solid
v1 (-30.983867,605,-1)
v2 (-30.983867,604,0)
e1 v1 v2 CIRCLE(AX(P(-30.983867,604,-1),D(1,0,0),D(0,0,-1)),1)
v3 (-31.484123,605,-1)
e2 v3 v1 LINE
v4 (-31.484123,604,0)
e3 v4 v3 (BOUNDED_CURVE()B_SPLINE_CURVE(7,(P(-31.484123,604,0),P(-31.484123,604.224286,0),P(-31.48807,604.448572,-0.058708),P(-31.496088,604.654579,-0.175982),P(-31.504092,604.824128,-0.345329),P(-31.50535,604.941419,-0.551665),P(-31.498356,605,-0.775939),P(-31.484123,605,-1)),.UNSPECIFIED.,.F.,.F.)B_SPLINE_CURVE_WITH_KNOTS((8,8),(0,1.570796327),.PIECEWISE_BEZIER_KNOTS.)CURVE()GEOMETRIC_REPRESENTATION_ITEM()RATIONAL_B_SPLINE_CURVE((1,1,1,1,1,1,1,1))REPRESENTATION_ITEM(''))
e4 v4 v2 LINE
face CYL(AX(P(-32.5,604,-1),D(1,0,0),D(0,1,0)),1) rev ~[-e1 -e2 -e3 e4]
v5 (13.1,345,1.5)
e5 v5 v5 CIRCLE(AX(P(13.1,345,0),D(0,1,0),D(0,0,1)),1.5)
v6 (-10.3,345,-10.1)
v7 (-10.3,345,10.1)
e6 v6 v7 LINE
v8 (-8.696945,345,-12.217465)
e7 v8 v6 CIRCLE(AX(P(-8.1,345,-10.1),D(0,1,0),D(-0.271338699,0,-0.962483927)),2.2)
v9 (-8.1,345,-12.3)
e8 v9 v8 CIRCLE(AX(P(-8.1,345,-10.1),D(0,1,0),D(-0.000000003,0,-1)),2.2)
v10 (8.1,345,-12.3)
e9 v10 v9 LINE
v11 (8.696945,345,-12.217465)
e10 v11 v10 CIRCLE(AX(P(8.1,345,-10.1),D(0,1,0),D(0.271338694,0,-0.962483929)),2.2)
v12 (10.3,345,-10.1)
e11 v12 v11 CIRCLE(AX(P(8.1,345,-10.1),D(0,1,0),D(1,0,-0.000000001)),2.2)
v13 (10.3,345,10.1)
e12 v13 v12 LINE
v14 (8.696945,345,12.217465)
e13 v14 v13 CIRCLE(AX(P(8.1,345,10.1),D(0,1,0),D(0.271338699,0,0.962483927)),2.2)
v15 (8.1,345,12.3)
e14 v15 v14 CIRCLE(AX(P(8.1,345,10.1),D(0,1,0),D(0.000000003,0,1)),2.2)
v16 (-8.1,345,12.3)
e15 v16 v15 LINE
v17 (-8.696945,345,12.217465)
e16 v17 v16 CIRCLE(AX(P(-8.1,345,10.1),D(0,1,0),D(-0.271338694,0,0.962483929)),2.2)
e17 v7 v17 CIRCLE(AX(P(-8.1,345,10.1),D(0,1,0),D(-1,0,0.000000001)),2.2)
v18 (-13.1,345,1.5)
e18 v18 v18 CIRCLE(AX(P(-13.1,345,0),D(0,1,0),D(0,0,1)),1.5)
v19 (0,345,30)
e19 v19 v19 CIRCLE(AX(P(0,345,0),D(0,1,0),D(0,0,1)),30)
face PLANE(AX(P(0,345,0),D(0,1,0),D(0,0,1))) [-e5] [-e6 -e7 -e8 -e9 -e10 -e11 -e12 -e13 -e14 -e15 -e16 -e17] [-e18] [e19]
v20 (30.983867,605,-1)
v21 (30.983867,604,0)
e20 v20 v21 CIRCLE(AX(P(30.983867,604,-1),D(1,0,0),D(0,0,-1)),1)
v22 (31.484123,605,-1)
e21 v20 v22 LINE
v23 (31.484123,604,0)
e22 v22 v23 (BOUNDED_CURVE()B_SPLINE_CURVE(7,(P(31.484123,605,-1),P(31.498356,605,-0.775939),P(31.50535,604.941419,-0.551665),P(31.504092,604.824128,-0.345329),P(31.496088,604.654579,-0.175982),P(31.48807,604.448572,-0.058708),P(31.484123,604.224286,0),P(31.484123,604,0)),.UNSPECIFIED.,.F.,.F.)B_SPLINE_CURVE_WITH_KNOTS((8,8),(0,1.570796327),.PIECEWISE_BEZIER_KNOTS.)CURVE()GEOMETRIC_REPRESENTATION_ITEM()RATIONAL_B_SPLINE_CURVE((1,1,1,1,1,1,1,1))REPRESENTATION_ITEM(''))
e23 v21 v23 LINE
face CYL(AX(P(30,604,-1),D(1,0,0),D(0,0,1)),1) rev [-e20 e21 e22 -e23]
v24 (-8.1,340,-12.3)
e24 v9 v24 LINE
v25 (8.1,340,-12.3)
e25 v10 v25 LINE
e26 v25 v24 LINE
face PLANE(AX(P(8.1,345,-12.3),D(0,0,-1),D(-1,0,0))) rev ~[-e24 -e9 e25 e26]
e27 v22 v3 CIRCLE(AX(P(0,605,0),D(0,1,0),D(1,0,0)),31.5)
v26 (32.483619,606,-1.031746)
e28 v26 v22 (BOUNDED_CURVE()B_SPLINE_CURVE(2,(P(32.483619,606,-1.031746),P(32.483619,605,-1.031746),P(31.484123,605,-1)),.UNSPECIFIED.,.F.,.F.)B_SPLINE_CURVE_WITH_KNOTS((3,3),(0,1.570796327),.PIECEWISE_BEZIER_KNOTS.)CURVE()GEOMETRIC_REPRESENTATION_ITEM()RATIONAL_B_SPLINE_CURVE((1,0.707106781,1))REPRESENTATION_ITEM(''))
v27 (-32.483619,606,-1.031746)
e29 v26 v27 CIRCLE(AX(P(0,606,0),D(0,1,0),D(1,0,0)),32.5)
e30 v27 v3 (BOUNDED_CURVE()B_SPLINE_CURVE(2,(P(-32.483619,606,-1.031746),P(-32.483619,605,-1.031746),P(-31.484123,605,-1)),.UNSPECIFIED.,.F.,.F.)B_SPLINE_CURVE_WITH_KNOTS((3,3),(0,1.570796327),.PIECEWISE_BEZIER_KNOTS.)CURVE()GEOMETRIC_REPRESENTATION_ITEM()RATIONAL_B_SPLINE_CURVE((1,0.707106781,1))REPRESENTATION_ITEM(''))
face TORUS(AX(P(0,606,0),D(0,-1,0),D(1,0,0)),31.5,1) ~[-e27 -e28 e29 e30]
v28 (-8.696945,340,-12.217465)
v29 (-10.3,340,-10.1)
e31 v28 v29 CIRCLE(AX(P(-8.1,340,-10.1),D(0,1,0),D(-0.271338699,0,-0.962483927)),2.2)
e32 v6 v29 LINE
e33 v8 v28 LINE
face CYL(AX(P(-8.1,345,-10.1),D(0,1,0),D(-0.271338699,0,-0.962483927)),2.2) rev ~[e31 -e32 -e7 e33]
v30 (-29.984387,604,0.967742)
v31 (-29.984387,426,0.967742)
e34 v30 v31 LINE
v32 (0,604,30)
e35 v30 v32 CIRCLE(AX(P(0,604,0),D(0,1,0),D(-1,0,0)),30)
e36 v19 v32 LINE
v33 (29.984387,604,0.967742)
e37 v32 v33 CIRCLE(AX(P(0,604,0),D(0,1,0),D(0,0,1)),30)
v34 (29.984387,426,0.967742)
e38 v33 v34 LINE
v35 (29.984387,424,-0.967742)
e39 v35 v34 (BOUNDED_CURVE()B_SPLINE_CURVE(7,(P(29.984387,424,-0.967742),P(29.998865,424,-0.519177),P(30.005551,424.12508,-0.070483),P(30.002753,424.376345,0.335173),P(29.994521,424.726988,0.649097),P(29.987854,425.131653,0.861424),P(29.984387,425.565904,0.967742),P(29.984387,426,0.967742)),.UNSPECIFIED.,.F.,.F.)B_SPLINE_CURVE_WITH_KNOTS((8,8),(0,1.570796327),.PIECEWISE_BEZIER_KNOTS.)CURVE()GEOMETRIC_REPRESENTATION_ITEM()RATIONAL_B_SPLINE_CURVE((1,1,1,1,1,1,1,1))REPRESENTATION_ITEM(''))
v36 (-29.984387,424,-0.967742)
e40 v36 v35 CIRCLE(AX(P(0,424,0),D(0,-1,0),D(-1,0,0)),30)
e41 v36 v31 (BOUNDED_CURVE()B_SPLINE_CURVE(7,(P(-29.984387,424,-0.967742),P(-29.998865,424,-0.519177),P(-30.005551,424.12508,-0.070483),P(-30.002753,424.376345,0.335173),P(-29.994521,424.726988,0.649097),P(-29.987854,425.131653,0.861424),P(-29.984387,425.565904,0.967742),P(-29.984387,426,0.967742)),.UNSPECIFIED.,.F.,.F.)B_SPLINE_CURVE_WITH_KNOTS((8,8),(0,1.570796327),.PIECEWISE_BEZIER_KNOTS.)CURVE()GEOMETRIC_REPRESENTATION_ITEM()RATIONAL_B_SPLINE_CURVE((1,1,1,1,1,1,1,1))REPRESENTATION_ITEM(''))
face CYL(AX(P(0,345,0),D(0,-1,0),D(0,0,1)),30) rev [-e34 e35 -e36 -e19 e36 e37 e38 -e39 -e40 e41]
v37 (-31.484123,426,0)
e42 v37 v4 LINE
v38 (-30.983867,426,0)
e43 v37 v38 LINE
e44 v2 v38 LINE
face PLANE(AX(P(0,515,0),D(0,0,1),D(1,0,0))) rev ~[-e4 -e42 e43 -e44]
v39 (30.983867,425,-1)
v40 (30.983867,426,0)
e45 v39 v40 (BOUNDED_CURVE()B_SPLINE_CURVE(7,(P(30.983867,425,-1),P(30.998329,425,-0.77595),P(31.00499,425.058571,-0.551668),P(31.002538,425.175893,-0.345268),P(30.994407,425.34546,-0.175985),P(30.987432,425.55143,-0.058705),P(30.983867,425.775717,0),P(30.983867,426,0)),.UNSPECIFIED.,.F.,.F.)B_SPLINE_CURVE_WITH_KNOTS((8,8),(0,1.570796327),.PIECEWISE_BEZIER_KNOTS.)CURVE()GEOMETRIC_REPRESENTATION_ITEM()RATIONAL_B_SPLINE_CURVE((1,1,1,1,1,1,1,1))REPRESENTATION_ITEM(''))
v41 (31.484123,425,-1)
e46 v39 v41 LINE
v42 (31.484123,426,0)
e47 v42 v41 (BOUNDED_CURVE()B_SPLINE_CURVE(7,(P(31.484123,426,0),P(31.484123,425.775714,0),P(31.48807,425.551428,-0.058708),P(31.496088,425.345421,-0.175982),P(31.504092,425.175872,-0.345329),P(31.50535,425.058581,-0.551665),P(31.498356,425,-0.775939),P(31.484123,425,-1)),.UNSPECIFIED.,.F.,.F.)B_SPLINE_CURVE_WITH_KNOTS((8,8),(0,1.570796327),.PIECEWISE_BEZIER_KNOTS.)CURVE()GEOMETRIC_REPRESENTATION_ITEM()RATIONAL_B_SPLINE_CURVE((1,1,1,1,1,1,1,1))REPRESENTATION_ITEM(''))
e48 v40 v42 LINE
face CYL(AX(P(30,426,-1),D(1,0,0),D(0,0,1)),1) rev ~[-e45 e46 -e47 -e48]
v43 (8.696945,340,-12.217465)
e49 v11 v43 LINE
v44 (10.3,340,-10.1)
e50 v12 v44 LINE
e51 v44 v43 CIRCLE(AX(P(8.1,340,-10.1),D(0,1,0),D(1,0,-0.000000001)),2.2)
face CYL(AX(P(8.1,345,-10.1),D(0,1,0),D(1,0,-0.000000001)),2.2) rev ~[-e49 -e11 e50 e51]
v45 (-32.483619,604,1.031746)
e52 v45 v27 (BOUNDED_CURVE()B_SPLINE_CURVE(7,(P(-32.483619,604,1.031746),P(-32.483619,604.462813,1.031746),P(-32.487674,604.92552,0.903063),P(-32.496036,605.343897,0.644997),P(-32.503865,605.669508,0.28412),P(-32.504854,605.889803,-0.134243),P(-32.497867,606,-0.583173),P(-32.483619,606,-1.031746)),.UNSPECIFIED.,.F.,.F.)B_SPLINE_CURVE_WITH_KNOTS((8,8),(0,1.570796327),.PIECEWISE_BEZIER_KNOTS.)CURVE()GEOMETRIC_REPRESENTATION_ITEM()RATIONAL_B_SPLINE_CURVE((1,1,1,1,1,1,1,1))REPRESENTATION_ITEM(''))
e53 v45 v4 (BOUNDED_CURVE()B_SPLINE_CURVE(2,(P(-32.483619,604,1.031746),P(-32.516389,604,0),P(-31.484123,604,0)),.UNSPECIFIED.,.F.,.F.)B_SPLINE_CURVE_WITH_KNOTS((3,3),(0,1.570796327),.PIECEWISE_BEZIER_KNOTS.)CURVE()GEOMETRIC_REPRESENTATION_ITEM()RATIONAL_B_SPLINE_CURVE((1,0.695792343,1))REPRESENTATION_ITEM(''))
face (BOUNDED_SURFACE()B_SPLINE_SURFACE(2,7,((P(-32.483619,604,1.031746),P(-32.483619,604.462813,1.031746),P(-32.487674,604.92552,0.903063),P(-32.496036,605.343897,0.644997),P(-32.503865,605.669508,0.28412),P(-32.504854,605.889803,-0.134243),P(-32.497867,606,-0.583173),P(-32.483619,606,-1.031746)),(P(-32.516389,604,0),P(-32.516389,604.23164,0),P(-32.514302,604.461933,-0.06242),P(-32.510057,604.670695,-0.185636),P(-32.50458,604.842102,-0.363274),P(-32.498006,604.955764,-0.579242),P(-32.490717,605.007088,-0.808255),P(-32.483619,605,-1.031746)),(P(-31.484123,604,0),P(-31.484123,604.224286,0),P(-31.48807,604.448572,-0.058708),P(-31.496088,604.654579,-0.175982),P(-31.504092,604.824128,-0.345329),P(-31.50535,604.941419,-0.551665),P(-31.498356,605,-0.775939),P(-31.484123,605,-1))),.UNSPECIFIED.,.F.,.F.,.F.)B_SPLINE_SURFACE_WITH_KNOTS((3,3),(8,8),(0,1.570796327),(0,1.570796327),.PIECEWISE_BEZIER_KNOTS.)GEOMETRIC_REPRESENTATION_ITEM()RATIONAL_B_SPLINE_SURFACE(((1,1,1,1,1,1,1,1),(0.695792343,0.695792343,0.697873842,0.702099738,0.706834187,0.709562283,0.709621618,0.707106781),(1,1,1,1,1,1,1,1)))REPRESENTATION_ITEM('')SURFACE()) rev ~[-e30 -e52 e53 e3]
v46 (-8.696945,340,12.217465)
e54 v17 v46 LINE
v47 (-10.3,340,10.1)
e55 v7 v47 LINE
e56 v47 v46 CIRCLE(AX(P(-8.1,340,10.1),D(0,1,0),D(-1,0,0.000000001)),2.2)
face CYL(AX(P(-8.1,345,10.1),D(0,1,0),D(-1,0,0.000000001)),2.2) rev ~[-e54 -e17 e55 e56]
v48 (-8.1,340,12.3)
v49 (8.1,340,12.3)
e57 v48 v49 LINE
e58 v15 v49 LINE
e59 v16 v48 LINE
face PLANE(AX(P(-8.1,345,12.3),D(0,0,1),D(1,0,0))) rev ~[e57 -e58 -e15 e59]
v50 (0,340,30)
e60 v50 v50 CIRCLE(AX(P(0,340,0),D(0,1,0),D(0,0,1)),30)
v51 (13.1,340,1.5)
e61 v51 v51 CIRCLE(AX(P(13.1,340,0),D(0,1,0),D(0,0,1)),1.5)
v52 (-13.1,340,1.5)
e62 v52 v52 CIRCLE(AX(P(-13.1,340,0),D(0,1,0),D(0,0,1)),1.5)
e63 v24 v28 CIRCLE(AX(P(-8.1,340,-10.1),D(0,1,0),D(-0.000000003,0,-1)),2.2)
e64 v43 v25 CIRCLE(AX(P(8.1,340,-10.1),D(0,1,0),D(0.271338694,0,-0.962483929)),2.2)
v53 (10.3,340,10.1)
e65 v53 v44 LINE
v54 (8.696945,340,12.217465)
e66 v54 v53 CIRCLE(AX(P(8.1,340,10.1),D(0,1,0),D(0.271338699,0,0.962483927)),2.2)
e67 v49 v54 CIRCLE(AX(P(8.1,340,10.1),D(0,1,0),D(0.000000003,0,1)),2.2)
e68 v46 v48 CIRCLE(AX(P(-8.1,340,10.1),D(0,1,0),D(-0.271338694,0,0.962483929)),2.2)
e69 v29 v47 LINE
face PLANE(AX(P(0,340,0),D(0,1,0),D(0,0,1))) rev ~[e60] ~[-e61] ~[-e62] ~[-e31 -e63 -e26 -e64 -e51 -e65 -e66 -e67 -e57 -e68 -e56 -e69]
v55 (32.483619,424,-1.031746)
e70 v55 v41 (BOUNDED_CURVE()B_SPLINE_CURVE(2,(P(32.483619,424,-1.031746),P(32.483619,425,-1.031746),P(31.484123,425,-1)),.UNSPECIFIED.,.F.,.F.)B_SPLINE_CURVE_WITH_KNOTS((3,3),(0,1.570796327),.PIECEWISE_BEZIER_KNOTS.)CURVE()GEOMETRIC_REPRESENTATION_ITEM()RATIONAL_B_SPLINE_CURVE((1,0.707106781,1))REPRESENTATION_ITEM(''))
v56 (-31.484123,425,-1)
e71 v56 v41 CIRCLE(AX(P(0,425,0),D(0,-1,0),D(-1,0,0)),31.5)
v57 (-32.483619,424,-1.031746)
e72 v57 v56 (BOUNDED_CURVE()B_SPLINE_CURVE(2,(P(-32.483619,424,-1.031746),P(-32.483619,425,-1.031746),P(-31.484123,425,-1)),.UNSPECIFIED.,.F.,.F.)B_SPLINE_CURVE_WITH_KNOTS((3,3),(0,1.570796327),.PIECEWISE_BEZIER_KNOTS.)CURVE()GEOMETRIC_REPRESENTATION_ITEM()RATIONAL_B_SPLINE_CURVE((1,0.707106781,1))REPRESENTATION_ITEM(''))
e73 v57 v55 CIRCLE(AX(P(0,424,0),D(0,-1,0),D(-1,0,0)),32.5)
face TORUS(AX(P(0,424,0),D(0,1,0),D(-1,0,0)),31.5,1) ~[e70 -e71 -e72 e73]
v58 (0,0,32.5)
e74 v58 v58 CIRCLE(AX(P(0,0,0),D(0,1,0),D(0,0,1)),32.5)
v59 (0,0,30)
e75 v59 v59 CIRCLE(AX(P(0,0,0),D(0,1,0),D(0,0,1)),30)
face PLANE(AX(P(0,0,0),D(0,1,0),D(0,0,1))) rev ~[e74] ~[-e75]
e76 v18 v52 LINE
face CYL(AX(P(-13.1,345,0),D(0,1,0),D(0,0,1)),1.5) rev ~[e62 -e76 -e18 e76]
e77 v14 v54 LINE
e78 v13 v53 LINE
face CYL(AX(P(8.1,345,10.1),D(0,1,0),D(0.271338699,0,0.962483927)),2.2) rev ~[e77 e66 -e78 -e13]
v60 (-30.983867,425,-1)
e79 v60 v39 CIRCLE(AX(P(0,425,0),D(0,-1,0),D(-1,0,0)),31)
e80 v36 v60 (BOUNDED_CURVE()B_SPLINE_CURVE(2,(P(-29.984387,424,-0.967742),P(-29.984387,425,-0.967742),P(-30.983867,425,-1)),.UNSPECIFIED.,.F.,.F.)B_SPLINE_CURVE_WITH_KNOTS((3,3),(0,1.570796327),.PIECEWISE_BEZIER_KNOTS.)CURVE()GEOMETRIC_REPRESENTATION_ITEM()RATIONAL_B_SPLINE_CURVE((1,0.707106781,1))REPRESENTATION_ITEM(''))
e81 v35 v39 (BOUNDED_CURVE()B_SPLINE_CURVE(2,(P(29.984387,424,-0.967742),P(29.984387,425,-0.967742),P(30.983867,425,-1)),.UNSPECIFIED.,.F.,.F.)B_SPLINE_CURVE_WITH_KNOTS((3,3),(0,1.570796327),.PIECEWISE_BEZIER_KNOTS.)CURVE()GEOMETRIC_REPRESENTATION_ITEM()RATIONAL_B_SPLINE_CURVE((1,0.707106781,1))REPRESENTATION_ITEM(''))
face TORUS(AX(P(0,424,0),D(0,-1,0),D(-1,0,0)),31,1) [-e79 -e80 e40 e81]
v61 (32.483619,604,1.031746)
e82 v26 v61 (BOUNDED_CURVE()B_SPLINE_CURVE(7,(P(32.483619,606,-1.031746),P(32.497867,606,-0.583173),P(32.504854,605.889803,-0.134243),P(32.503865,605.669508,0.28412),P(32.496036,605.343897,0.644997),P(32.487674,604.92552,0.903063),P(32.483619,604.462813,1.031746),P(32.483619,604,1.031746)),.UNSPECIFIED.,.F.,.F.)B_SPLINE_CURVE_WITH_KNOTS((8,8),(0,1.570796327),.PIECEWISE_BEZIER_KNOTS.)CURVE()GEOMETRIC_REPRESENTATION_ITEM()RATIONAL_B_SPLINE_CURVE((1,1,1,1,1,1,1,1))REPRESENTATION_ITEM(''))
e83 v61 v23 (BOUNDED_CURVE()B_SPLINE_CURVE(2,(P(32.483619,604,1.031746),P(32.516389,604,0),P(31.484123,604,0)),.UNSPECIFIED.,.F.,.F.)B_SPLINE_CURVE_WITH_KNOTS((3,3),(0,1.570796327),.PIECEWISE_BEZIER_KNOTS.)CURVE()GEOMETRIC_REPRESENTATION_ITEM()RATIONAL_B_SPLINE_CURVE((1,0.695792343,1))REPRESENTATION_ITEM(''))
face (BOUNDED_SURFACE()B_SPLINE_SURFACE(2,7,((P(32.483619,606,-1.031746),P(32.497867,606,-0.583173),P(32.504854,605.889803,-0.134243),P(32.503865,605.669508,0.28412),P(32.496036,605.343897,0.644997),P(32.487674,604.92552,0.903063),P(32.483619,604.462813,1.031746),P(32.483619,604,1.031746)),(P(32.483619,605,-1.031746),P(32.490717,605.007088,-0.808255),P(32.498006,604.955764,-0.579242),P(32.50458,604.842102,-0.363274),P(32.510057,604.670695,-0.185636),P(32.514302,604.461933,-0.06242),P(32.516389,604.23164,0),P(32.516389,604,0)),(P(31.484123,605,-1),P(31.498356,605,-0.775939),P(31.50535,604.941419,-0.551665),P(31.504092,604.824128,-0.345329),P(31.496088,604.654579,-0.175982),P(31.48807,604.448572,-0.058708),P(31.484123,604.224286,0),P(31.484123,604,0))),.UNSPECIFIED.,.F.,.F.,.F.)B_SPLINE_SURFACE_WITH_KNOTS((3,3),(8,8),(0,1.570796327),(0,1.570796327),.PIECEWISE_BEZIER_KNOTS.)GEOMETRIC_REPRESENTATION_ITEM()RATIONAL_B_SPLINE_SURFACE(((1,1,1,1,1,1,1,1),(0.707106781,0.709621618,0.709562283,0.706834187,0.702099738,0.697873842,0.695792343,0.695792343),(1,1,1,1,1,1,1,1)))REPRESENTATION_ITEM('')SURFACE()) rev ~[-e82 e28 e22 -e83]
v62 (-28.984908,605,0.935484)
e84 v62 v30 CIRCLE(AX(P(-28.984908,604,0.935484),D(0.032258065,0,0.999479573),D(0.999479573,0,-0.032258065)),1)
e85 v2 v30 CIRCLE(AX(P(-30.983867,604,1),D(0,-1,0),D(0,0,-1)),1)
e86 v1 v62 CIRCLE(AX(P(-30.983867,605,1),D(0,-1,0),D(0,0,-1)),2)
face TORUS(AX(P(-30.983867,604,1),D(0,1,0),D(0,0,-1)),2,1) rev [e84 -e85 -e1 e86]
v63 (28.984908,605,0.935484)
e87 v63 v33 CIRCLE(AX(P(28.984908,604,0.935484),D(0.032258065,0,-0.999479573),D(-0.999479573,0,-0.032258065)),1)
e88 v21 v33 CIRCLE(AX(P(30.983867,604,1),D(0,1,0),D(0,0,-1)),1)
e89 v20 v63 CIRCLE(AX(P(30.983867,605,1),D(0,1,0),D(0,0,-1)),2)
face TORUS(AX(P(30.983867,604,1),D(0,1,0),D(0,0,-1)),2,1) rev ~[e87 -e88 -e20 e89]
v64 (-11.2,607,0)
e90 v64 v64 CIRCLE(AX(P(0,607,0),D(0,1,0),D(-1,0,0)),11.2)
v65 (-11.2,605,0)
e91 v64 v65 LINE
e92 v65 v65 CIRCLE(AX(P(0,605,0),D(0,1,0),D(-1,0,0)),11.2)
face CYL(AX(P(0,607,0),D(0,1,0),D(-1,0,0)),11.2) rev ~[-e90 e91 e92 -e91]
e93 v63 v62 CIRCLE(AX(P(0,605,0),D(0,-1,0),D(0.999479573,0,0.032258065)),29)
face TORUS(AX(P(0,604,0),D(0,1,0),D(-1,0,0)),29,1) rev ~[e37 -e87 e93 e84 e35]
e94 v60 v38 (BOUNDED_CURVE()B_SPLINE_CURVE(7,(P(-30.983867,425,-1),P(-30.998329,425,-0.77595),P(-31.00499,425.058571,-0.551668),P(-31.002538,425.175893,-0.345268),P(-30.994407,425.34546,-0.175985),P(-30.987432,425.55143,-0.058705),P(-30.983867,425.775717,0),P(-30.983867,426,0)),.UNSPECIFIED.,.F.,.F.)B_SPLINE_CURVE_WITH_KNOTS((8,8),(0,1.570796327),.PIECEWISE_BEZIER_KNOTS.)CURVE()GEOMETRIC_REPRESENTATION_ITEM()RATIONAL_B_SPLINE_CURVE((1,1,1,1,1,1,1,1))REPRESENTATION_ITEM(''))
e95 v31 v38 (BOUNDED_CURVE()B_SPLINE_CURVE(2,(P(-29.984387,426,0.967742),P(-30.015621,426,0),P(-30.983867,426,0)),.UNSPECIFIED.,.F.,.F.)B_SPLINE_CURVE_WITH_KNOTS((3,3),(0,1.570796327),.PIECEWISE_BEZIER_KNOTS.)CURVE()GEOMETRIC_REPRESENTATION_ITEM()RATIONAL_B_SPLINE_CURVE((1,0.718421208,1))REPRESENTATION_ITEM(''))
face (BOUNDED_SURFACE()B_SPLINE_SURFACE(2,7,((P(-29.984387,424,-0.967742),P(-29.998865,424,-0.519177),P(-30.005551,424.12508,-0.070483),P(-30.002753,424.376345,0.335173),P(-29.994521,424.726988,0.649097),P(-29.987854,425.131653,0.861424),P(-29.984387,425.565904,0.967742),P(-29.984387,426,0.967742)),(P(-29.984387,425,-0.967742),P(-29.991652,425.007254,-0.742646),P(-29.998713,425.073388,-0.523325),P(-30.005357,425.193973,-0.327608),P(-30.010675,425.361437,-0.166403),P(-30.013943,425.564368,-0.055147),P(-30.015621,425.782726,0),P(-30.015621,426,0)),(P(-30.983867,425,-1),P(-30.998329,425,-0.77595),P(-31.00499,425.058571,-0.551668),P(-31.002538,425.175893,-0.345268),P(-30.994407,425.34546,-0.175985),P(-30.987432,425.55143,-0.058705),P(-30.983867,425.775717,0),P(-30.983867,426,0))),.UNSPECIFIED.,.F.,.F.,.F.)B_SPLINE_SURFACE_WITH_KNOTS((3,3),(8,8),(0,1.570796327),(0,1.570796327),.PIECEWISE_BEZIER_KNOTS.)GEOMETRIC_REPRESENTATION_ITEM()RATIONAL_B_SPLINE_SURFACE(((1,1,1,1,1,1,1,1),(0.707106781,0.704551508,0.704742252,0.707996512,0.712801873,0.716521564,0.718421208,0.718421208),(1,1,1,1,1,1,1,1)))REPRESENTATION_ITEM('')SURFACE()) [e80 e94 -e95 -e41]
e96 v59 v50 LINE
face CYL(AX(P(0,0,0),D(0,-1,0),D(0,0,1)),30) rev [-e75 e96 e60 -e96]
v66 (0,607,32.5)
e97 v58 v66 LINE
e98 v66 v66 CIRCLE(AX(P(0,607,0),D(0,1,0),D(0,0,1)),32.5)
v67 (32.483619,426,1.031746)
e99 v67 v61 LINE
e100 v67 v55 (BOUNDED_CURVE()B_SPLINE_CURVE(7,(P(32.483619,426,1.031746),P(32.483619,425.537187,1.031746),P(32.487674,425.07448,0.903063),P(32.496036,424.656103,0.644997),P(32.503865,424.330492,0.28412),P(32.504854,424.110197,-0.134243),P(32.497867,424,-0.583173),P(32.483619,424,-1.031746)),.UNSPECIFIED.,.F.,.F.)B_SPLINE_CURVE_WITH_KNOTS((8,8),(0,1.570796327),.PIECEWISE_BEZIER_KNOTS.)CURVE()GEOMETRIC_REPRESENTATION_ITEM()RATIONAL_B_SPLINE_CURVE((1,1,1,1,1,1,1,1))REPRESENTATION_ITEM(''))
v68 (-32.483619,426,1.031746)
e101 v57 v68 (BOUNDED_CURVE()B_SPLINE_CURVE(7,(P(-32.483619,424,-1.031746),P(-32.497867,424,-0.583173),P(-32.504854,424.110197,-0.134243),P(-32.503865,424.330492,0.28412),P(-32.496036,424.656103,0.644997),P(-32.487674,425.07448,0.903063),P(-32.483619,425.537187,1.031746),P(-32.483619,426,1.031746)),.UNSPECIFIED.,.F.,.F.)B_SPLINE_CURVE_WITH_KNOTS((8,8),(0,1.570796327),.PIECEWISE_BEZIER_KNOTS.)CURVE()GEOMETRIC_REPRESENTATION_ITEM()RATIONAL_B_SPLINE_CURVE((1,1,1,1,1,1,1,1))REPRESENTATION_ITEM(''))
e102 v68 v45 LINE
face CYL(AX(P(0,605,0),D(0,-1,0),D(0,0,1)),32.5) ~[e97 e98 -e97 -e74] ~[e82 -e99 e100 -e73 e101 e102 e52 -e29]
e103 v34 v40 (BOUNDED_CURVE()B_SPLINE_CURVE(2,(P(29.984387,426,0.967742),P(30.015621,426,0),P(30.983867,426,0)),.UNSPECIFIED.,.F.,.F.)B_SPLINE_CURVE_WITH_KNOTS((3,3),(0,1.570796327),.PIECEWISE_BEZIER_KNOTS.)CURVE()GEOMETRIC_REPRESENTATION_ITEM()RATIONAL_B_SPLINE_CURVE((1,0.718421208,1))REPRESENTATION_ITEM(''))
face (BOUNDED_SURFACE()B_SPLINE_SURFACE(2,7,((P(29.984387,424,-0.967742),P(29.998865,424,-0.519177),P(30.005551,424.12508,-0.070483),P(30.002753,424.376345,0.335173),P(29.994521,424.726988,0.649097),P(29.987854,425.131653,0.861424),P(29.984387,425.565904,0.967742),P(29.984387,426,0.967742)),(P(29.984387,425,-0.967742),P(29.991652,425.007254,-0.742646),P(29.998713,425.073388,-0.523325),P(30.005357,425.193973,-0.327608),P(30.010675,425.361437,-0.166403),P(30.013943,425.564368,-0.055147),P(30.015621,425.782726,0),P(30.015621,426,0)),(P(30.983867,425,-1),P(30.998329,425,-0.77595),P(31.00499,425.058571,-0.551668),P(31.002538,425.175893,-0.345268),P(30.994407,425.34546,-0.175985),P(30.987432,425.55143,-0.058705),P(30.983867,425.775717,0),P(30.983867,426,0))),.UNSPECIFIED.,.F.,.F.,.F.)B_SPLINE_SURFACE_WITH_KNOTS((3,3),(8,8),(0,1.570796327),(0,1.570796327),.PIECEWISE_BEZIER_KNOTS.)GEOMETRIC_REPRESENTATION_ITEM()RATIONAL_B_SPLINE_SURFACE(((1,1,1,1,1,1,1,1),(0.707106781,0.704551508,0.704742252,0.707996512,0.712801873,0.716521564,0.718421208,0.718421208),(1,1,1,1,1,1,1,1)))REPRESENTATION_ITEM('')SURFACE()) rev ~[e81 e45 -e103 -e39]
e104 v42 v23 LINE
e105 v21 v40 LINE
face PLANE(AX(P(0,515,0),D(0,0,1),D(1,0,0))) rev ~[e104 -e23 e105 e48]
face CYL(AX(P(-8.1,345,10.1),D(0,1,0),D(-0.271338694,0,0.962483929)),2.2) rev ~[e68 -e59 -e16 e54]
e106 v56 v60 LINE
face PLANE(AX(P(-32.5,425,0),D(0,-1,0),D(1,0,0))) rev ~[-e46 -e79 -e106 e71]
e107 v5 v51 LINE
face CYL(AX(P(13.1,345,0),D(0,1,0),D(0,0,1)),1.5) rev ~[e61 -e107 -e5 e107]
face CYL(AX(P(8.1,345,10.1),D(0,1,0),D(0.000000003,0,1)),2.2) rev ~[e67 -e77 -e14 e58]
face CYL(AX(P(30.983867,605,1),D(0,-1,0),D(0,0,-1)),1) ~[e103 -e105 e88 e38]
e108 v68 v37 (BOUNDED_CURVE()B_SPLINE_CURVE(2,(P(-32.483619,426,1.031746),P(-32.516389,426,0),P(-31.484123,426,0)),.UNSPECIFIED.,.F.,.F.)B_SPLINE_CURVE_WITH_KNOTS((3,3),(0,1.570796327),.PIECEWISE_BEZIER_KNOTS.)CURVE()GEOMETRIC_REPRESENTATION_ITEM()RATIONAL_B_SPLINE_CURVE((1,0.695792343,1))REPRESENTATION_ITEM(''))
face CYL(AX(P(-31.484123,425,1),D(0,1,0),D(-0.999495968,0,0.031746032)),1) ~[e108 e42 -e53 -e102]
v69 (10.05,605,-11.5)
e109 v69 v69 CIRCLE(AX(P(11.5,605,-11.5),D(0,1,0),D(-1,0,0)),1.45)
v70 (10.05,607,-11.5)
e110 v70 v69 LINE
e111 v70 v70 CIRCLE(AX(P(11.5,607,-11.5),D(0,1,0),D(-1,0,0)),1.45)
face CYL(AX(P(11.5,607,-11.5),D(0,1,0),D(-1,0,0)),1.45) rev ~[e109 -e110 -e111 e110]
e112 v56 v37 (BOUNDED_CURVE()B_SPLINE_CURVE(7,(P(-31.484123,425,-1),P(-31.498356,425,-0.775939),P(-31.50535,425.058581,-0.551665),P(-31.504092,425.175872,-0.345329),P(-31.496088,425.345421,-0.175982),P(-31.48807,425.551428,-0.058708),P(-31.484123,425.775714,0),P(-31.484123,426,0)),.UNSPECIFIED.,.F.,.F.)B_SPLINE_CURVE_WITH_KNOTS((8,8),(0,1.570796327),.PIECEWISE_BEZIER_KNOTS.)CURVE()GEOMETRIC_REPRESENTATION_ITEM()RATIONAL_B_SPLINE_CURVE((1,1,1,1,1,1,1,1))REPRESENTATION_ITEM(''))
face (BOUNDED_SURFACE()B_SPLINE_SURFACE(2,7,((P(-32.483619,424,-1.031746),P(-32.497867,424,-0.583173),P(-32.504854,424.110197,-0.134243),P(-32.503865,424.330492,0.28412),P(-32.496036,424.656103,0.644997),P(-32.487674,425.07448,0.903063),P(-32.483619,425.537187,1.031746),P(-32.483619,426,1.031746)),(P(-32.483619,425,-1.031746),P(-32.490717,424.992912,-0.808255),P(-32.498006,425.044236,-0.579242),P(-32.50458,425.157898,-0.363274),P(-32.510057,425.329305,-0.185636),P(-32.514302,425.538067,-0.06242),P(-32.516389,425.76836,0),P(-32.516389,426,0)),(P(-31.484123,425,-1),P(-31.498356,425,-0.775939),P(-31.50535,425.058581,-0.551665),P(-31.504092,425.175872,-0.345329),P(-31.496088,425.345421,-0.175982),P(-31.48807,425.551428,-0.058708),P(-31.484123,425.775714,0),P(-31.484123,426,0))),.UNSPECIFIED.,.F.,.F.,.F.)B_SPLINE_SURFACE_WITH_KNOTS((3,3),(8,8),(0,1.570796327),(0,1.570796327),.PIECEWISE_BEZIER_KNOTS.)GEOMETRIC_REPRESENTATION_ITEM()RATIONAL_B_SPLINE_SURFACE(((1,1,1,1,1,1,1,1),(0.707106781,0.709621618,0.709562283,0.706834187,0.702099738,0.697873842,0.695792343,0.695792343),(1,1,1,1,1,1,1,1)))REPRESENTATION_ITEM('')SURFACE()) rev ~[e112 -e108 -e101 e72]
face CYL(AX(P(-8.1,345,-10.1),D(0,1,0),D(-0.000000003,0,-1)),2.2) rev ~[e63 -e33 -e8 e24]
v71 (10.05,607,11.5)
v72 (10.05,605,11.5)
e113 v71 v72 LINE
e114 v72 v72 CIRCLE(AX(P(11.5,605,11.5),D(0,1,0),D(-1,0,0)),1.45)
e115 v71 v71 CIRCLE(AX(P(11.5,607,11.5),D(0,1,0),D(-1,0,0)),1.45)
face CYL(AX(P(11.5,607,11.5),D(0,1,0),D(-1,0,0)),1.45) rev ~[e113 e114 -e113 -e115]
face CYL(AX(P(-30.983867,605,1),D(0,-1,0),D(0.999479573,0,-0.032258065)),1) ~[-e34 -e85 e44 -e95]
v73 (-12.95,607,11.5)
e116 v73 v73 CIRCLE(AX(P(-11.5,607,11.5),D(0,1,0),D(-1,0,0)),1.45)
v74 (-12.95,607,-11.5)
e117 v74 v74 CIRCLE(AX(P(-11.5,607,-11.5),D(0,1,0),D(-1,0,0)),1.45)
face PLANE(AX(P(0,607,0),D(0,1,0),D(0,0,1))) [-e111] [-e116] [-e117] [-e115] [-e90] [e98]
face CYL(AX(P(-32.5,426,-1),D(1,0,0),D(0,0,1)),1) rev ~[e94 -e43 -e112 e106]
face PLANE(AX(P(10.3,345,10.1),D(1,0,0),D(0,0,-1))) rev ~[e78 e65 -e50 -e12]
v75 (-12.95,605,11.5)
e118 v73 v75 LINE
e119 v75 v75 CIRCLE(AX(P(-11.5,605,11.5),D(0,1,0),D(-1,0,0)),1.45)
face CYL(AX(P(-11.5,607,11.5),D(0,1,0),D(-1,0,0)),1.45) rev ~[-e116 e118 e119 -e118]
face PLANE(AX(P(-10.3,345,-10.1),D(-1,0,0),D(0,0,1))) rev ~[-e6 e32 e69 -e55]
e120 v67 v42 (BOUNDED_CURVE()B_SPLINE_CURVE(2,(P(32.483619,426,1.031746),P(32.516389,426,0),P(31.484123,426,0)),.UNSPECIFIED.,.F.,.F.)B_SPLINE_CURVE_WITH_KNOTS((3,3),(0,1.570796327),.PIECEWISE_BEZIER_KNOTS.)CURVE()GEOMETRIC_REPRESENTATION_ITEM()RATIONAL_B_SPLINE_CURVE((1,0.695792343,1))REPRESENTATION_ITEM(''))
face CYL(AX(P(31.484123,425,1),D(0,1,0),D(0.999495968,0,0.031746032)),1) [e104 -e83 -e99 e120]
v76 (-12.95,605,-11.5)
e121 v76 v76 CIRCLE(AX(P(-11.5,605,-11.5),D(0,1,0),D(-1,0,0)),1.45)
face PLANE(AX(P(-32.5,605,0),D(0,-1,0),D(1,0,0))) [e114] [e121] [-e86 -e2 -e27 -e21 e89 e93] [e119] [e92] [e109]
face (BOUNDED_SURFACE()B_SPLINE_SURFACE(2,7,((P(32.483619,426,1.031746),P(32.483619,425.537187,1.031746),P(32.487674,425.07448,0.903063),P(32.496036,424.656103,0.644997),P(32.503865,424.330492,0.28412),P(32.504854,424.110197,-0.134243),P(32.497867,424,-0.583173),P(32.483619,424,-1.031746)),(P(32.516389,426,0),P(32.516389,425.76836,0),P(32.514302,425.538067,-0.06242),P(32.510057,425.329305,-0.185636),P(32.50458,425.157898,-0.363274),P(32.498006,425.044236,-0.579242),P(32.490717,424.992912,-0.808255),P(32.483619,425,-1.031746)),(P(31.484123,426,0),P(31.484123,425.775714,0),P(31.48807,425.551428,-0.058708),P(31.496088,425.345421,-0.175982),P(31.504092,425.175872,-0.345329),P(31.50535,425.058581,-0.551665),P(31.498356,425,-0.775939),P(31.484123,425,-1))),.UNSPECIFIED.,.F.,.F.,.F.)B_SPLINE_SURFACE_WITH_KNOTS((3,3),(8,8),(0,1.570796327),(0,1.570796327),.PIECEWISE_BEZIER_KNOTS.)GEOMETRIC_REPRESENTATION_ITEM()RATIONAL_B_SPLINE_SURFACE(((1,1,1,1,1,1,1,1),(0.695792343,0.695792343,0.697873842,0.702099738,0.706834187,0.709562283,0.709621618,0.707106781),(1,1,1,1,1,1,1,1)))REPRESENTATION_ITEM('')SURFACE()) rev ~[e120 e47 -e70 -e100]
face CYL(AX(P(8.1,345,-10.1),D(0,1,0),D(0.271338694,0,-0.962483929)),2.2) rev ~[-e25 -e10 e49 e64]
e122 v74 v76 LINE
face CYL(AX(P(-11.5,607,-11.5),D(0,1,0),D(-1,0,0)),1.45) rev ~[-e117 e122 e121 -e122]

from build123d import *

# Parameters (mm, degrees)
SKETCH_1_R          = 32.5
SKETCH_1_R_2        = 30
EXTRUDE_1_DEPTH     = 340
SKETCH_2_R          = 32.5
EXTRUDE_2_DEPTH     = 5
SKETCH_8_R          = 1.5
CUT_EXTRUDE_2_DEPTH = 5
SKETCH_9_R          = 32.5
SKETCH_9_R_2        = 30
EXTRUDE_3_DEPTH     = 260
SKETCH_10_R         = 32.5
EXTRUDE_4_DEPTH     = 2
CUT_EXTRUDE_3_DEPTH = 2
SKETCH_14_W         = 65
SKETCH_14_H         = 180
CUT_EXTRUDE_4_DEPTH = 32.5
FILLET_1_R          = 1


with BuildPart() as part:
    # 草图1 → 凸台-拉伸1 (new body)
    with BuildSketch(Plane(origin=(0, 0, 0), x_dir=(1, 0, 0), z_dir=(0, 1, 0))):
        with Locations(Location((0, 0, 0), (0, 0, 270))):
            Circle(SKETCH_1_R)
        with Locations(Location((0, 0, 0), (0, 0, 270))):
            Circle(SKETCH_1_R_2, mode=Mode.SUBTRACT)
    extrude(amount=EXTRUDE_1_DEPTH)

    # 草图2 → 凸台-拉伸2 (add)
    with BuildSketch(Plane(origin=(0, 340, 0), x_dir=(1, 0, 0), z_dir=(0, 1, 0))):
        with Locations(Location((0, 0, 0), (0, 0, 270))):
            Circle(SKETCH_2_R)
    extrude(amount=EXTRUDE_2_DEPTH)

    # 草图8 → 切除-拉伸2 (cut)
    with BuildSketch(Plane(origin=(0, 345, 0), x_dir=(1, 0, 0), z_dir=(0, 1, 0))):
        with Locations(Location((-13.1, 0, 0), (0, 0, 270))):
            Circle(SKETCH_8_R)
        with Locations(Location((13.1, 0, 0), (0, 0, 270))):
            Circle(SKETCH_8_R)
        with BuildLine():
            Line((10.3, -10.1), (10.3, 10.1))
            ThreePointArc((10.3, 10.1), (9.854035247, 11.427915792), (8.696945136, 12.217464641))
            ThreePointArc((8.696945136, 12.217464641), (8.401311956, 12.279268479), (8.1, 12.3))
            Line((8.1, 12.3), (-8.1, 12.3))
            ThreePointArc((-8.1, 12.3), (-8.401311956, 12.279268479), (-8.696945136, 12.217464641))
            ThreePointArc((-8.696945136, 12.217464641), (-9.854035247, 11.427915792), (-10.3, 10.1))
            Line((-10.3, 10.1), (-10.3, -10.1))
            ThreePointArc((-10.3, -10.1), (-9.854035247, -11.427915792), (-8.696945136, -12.217464641))
            ThreePointArc((-8.696945136, -12.217464641), (-8.401311956, -12.279268479), (-8.1, -12.3))
            Line((-8.1, -12.3), (8.1, -12.3))
            ThreePointArc((8.1, -12.3), (8.401311956, -12.279268479), (8.696945136, -12.217464641))
            ThreePointArc((8.696945136, -12.217464641), (9.854035247, -11.427915792), (10.3, -10.1))
        make_face()
    extrude(amount=-CUT_EXTRUDE_2_DEPTH, mode=Mode.SUBTRACT)

    # 草图9 → 凸台-拉伸3 (add)
    with BuildSketch(Plane(origin=(0, 345, 0), x_dir=(1, 0, 0), z_dir=(0, 1, 0))):
        with Locations(Location((0, 0, 0), (0, 0, 270))):
            Circle(SKETCH_9_R)
        with Locations(Location((0, 0, 0), (0, 0, 270))):
            Circle(SKETCH_9_R_2, mode=Mode.SUBTRACT)
    extrude(amount=EXTRUDE_3_DEPTH)

    # 草图10 → 凸台-拉伸4 (add)
    with BuildSketch(Plane(origin=(0, 605, 0), x_dir=(1, 0, 0), z_dir=(0, 1, 0))):
        with Locations(Location((0, 0, 0), (0, 0, 270))):
            Circle(SKETCH_10_R)
    extrude(amount=EXTRUDE_4_DEPTH)

    # 草图12 → 切除-拉伸3 (cut)
    with BuildSketch(Plane(origin=(0, 607, 0), x_dir=(1, 0, 0), z_dir=(0, 1, 0))):
        with BuildLine():
            ThreePointArc((12.95, 11.5), (11.5, 12.95), (10.05, 11.5))
            ThreePointArc((10.05, 11.5), (11.5, 10.05), (12.95, 11.5))
        make_face()
        with BuildLine():
            ThreePointArc((12.95, -11.5), (11.5, -10.05), (10.05, -11.5))
            ThreePointArc((10.05, -11.5), (11.5, -12.95), (12.95, -11.5))
        make_face()
        with BuildLine():
            ThreePointArc((11.2, 0), (0, 11.2), (-11.2, 0))
            ThreePointArc((-11.2, 0), (0, -11.2), (11.2, 0))
        make_face()
        with BuildLine():
            ThreePointArc((-10.05, -11.5), (-11.5, -10.05), (-12.95, -11.5))
            ThreePointArc((-12.95, -11.5), (-11.5, -12.95), (-10.05, -11.5))
        make_face()
        with BuildLine():
            ThreePointArc((-10.05, 11.5), (-11.5, 12.95), (-12.95, 11.5))
            ThreePointArc((-12.95, 11.5), (-11.5, 10.05), (-10.05, 11.5))
        make_face()
    extrude(amount=-CUT_EXTRUDE_3_DEPTH, mode=Mode.SUBTRACT)

    # 草图14 → 切除-拉伸4 (cut)
    with BuildSketch(Plane.XY):
        with Locations((0, 515)):
            Rectangle(SKETCH_14_W, SKETCH_14_H)
    extrude(amount=-CUT_EXTRUDE_4_DEPTH, mode=Mode.SUBTRACT)

    # 圆角1
    fillet_1_edges = [part.edges().sort_by_distance(p)[0] for p in [
        (0, 425, -32.5),
        (-30, 515, 0),
        (30, 515, 0),
        (-31.25, 605, 0),
        (-32.5, 515, 0),
        (-31.25, 425, 0),
        (0, 605, -32.5),
        (31.25, 425, 0),
        (32.5, 515, 0),
        (31.25, 605, 0),
        (21.213203436, 605, 21.213203436),
        (0, 425, -30),
    ]]
    fillet(fillet_1_edges, radius=FILLET_1_R)


solid = part.part
